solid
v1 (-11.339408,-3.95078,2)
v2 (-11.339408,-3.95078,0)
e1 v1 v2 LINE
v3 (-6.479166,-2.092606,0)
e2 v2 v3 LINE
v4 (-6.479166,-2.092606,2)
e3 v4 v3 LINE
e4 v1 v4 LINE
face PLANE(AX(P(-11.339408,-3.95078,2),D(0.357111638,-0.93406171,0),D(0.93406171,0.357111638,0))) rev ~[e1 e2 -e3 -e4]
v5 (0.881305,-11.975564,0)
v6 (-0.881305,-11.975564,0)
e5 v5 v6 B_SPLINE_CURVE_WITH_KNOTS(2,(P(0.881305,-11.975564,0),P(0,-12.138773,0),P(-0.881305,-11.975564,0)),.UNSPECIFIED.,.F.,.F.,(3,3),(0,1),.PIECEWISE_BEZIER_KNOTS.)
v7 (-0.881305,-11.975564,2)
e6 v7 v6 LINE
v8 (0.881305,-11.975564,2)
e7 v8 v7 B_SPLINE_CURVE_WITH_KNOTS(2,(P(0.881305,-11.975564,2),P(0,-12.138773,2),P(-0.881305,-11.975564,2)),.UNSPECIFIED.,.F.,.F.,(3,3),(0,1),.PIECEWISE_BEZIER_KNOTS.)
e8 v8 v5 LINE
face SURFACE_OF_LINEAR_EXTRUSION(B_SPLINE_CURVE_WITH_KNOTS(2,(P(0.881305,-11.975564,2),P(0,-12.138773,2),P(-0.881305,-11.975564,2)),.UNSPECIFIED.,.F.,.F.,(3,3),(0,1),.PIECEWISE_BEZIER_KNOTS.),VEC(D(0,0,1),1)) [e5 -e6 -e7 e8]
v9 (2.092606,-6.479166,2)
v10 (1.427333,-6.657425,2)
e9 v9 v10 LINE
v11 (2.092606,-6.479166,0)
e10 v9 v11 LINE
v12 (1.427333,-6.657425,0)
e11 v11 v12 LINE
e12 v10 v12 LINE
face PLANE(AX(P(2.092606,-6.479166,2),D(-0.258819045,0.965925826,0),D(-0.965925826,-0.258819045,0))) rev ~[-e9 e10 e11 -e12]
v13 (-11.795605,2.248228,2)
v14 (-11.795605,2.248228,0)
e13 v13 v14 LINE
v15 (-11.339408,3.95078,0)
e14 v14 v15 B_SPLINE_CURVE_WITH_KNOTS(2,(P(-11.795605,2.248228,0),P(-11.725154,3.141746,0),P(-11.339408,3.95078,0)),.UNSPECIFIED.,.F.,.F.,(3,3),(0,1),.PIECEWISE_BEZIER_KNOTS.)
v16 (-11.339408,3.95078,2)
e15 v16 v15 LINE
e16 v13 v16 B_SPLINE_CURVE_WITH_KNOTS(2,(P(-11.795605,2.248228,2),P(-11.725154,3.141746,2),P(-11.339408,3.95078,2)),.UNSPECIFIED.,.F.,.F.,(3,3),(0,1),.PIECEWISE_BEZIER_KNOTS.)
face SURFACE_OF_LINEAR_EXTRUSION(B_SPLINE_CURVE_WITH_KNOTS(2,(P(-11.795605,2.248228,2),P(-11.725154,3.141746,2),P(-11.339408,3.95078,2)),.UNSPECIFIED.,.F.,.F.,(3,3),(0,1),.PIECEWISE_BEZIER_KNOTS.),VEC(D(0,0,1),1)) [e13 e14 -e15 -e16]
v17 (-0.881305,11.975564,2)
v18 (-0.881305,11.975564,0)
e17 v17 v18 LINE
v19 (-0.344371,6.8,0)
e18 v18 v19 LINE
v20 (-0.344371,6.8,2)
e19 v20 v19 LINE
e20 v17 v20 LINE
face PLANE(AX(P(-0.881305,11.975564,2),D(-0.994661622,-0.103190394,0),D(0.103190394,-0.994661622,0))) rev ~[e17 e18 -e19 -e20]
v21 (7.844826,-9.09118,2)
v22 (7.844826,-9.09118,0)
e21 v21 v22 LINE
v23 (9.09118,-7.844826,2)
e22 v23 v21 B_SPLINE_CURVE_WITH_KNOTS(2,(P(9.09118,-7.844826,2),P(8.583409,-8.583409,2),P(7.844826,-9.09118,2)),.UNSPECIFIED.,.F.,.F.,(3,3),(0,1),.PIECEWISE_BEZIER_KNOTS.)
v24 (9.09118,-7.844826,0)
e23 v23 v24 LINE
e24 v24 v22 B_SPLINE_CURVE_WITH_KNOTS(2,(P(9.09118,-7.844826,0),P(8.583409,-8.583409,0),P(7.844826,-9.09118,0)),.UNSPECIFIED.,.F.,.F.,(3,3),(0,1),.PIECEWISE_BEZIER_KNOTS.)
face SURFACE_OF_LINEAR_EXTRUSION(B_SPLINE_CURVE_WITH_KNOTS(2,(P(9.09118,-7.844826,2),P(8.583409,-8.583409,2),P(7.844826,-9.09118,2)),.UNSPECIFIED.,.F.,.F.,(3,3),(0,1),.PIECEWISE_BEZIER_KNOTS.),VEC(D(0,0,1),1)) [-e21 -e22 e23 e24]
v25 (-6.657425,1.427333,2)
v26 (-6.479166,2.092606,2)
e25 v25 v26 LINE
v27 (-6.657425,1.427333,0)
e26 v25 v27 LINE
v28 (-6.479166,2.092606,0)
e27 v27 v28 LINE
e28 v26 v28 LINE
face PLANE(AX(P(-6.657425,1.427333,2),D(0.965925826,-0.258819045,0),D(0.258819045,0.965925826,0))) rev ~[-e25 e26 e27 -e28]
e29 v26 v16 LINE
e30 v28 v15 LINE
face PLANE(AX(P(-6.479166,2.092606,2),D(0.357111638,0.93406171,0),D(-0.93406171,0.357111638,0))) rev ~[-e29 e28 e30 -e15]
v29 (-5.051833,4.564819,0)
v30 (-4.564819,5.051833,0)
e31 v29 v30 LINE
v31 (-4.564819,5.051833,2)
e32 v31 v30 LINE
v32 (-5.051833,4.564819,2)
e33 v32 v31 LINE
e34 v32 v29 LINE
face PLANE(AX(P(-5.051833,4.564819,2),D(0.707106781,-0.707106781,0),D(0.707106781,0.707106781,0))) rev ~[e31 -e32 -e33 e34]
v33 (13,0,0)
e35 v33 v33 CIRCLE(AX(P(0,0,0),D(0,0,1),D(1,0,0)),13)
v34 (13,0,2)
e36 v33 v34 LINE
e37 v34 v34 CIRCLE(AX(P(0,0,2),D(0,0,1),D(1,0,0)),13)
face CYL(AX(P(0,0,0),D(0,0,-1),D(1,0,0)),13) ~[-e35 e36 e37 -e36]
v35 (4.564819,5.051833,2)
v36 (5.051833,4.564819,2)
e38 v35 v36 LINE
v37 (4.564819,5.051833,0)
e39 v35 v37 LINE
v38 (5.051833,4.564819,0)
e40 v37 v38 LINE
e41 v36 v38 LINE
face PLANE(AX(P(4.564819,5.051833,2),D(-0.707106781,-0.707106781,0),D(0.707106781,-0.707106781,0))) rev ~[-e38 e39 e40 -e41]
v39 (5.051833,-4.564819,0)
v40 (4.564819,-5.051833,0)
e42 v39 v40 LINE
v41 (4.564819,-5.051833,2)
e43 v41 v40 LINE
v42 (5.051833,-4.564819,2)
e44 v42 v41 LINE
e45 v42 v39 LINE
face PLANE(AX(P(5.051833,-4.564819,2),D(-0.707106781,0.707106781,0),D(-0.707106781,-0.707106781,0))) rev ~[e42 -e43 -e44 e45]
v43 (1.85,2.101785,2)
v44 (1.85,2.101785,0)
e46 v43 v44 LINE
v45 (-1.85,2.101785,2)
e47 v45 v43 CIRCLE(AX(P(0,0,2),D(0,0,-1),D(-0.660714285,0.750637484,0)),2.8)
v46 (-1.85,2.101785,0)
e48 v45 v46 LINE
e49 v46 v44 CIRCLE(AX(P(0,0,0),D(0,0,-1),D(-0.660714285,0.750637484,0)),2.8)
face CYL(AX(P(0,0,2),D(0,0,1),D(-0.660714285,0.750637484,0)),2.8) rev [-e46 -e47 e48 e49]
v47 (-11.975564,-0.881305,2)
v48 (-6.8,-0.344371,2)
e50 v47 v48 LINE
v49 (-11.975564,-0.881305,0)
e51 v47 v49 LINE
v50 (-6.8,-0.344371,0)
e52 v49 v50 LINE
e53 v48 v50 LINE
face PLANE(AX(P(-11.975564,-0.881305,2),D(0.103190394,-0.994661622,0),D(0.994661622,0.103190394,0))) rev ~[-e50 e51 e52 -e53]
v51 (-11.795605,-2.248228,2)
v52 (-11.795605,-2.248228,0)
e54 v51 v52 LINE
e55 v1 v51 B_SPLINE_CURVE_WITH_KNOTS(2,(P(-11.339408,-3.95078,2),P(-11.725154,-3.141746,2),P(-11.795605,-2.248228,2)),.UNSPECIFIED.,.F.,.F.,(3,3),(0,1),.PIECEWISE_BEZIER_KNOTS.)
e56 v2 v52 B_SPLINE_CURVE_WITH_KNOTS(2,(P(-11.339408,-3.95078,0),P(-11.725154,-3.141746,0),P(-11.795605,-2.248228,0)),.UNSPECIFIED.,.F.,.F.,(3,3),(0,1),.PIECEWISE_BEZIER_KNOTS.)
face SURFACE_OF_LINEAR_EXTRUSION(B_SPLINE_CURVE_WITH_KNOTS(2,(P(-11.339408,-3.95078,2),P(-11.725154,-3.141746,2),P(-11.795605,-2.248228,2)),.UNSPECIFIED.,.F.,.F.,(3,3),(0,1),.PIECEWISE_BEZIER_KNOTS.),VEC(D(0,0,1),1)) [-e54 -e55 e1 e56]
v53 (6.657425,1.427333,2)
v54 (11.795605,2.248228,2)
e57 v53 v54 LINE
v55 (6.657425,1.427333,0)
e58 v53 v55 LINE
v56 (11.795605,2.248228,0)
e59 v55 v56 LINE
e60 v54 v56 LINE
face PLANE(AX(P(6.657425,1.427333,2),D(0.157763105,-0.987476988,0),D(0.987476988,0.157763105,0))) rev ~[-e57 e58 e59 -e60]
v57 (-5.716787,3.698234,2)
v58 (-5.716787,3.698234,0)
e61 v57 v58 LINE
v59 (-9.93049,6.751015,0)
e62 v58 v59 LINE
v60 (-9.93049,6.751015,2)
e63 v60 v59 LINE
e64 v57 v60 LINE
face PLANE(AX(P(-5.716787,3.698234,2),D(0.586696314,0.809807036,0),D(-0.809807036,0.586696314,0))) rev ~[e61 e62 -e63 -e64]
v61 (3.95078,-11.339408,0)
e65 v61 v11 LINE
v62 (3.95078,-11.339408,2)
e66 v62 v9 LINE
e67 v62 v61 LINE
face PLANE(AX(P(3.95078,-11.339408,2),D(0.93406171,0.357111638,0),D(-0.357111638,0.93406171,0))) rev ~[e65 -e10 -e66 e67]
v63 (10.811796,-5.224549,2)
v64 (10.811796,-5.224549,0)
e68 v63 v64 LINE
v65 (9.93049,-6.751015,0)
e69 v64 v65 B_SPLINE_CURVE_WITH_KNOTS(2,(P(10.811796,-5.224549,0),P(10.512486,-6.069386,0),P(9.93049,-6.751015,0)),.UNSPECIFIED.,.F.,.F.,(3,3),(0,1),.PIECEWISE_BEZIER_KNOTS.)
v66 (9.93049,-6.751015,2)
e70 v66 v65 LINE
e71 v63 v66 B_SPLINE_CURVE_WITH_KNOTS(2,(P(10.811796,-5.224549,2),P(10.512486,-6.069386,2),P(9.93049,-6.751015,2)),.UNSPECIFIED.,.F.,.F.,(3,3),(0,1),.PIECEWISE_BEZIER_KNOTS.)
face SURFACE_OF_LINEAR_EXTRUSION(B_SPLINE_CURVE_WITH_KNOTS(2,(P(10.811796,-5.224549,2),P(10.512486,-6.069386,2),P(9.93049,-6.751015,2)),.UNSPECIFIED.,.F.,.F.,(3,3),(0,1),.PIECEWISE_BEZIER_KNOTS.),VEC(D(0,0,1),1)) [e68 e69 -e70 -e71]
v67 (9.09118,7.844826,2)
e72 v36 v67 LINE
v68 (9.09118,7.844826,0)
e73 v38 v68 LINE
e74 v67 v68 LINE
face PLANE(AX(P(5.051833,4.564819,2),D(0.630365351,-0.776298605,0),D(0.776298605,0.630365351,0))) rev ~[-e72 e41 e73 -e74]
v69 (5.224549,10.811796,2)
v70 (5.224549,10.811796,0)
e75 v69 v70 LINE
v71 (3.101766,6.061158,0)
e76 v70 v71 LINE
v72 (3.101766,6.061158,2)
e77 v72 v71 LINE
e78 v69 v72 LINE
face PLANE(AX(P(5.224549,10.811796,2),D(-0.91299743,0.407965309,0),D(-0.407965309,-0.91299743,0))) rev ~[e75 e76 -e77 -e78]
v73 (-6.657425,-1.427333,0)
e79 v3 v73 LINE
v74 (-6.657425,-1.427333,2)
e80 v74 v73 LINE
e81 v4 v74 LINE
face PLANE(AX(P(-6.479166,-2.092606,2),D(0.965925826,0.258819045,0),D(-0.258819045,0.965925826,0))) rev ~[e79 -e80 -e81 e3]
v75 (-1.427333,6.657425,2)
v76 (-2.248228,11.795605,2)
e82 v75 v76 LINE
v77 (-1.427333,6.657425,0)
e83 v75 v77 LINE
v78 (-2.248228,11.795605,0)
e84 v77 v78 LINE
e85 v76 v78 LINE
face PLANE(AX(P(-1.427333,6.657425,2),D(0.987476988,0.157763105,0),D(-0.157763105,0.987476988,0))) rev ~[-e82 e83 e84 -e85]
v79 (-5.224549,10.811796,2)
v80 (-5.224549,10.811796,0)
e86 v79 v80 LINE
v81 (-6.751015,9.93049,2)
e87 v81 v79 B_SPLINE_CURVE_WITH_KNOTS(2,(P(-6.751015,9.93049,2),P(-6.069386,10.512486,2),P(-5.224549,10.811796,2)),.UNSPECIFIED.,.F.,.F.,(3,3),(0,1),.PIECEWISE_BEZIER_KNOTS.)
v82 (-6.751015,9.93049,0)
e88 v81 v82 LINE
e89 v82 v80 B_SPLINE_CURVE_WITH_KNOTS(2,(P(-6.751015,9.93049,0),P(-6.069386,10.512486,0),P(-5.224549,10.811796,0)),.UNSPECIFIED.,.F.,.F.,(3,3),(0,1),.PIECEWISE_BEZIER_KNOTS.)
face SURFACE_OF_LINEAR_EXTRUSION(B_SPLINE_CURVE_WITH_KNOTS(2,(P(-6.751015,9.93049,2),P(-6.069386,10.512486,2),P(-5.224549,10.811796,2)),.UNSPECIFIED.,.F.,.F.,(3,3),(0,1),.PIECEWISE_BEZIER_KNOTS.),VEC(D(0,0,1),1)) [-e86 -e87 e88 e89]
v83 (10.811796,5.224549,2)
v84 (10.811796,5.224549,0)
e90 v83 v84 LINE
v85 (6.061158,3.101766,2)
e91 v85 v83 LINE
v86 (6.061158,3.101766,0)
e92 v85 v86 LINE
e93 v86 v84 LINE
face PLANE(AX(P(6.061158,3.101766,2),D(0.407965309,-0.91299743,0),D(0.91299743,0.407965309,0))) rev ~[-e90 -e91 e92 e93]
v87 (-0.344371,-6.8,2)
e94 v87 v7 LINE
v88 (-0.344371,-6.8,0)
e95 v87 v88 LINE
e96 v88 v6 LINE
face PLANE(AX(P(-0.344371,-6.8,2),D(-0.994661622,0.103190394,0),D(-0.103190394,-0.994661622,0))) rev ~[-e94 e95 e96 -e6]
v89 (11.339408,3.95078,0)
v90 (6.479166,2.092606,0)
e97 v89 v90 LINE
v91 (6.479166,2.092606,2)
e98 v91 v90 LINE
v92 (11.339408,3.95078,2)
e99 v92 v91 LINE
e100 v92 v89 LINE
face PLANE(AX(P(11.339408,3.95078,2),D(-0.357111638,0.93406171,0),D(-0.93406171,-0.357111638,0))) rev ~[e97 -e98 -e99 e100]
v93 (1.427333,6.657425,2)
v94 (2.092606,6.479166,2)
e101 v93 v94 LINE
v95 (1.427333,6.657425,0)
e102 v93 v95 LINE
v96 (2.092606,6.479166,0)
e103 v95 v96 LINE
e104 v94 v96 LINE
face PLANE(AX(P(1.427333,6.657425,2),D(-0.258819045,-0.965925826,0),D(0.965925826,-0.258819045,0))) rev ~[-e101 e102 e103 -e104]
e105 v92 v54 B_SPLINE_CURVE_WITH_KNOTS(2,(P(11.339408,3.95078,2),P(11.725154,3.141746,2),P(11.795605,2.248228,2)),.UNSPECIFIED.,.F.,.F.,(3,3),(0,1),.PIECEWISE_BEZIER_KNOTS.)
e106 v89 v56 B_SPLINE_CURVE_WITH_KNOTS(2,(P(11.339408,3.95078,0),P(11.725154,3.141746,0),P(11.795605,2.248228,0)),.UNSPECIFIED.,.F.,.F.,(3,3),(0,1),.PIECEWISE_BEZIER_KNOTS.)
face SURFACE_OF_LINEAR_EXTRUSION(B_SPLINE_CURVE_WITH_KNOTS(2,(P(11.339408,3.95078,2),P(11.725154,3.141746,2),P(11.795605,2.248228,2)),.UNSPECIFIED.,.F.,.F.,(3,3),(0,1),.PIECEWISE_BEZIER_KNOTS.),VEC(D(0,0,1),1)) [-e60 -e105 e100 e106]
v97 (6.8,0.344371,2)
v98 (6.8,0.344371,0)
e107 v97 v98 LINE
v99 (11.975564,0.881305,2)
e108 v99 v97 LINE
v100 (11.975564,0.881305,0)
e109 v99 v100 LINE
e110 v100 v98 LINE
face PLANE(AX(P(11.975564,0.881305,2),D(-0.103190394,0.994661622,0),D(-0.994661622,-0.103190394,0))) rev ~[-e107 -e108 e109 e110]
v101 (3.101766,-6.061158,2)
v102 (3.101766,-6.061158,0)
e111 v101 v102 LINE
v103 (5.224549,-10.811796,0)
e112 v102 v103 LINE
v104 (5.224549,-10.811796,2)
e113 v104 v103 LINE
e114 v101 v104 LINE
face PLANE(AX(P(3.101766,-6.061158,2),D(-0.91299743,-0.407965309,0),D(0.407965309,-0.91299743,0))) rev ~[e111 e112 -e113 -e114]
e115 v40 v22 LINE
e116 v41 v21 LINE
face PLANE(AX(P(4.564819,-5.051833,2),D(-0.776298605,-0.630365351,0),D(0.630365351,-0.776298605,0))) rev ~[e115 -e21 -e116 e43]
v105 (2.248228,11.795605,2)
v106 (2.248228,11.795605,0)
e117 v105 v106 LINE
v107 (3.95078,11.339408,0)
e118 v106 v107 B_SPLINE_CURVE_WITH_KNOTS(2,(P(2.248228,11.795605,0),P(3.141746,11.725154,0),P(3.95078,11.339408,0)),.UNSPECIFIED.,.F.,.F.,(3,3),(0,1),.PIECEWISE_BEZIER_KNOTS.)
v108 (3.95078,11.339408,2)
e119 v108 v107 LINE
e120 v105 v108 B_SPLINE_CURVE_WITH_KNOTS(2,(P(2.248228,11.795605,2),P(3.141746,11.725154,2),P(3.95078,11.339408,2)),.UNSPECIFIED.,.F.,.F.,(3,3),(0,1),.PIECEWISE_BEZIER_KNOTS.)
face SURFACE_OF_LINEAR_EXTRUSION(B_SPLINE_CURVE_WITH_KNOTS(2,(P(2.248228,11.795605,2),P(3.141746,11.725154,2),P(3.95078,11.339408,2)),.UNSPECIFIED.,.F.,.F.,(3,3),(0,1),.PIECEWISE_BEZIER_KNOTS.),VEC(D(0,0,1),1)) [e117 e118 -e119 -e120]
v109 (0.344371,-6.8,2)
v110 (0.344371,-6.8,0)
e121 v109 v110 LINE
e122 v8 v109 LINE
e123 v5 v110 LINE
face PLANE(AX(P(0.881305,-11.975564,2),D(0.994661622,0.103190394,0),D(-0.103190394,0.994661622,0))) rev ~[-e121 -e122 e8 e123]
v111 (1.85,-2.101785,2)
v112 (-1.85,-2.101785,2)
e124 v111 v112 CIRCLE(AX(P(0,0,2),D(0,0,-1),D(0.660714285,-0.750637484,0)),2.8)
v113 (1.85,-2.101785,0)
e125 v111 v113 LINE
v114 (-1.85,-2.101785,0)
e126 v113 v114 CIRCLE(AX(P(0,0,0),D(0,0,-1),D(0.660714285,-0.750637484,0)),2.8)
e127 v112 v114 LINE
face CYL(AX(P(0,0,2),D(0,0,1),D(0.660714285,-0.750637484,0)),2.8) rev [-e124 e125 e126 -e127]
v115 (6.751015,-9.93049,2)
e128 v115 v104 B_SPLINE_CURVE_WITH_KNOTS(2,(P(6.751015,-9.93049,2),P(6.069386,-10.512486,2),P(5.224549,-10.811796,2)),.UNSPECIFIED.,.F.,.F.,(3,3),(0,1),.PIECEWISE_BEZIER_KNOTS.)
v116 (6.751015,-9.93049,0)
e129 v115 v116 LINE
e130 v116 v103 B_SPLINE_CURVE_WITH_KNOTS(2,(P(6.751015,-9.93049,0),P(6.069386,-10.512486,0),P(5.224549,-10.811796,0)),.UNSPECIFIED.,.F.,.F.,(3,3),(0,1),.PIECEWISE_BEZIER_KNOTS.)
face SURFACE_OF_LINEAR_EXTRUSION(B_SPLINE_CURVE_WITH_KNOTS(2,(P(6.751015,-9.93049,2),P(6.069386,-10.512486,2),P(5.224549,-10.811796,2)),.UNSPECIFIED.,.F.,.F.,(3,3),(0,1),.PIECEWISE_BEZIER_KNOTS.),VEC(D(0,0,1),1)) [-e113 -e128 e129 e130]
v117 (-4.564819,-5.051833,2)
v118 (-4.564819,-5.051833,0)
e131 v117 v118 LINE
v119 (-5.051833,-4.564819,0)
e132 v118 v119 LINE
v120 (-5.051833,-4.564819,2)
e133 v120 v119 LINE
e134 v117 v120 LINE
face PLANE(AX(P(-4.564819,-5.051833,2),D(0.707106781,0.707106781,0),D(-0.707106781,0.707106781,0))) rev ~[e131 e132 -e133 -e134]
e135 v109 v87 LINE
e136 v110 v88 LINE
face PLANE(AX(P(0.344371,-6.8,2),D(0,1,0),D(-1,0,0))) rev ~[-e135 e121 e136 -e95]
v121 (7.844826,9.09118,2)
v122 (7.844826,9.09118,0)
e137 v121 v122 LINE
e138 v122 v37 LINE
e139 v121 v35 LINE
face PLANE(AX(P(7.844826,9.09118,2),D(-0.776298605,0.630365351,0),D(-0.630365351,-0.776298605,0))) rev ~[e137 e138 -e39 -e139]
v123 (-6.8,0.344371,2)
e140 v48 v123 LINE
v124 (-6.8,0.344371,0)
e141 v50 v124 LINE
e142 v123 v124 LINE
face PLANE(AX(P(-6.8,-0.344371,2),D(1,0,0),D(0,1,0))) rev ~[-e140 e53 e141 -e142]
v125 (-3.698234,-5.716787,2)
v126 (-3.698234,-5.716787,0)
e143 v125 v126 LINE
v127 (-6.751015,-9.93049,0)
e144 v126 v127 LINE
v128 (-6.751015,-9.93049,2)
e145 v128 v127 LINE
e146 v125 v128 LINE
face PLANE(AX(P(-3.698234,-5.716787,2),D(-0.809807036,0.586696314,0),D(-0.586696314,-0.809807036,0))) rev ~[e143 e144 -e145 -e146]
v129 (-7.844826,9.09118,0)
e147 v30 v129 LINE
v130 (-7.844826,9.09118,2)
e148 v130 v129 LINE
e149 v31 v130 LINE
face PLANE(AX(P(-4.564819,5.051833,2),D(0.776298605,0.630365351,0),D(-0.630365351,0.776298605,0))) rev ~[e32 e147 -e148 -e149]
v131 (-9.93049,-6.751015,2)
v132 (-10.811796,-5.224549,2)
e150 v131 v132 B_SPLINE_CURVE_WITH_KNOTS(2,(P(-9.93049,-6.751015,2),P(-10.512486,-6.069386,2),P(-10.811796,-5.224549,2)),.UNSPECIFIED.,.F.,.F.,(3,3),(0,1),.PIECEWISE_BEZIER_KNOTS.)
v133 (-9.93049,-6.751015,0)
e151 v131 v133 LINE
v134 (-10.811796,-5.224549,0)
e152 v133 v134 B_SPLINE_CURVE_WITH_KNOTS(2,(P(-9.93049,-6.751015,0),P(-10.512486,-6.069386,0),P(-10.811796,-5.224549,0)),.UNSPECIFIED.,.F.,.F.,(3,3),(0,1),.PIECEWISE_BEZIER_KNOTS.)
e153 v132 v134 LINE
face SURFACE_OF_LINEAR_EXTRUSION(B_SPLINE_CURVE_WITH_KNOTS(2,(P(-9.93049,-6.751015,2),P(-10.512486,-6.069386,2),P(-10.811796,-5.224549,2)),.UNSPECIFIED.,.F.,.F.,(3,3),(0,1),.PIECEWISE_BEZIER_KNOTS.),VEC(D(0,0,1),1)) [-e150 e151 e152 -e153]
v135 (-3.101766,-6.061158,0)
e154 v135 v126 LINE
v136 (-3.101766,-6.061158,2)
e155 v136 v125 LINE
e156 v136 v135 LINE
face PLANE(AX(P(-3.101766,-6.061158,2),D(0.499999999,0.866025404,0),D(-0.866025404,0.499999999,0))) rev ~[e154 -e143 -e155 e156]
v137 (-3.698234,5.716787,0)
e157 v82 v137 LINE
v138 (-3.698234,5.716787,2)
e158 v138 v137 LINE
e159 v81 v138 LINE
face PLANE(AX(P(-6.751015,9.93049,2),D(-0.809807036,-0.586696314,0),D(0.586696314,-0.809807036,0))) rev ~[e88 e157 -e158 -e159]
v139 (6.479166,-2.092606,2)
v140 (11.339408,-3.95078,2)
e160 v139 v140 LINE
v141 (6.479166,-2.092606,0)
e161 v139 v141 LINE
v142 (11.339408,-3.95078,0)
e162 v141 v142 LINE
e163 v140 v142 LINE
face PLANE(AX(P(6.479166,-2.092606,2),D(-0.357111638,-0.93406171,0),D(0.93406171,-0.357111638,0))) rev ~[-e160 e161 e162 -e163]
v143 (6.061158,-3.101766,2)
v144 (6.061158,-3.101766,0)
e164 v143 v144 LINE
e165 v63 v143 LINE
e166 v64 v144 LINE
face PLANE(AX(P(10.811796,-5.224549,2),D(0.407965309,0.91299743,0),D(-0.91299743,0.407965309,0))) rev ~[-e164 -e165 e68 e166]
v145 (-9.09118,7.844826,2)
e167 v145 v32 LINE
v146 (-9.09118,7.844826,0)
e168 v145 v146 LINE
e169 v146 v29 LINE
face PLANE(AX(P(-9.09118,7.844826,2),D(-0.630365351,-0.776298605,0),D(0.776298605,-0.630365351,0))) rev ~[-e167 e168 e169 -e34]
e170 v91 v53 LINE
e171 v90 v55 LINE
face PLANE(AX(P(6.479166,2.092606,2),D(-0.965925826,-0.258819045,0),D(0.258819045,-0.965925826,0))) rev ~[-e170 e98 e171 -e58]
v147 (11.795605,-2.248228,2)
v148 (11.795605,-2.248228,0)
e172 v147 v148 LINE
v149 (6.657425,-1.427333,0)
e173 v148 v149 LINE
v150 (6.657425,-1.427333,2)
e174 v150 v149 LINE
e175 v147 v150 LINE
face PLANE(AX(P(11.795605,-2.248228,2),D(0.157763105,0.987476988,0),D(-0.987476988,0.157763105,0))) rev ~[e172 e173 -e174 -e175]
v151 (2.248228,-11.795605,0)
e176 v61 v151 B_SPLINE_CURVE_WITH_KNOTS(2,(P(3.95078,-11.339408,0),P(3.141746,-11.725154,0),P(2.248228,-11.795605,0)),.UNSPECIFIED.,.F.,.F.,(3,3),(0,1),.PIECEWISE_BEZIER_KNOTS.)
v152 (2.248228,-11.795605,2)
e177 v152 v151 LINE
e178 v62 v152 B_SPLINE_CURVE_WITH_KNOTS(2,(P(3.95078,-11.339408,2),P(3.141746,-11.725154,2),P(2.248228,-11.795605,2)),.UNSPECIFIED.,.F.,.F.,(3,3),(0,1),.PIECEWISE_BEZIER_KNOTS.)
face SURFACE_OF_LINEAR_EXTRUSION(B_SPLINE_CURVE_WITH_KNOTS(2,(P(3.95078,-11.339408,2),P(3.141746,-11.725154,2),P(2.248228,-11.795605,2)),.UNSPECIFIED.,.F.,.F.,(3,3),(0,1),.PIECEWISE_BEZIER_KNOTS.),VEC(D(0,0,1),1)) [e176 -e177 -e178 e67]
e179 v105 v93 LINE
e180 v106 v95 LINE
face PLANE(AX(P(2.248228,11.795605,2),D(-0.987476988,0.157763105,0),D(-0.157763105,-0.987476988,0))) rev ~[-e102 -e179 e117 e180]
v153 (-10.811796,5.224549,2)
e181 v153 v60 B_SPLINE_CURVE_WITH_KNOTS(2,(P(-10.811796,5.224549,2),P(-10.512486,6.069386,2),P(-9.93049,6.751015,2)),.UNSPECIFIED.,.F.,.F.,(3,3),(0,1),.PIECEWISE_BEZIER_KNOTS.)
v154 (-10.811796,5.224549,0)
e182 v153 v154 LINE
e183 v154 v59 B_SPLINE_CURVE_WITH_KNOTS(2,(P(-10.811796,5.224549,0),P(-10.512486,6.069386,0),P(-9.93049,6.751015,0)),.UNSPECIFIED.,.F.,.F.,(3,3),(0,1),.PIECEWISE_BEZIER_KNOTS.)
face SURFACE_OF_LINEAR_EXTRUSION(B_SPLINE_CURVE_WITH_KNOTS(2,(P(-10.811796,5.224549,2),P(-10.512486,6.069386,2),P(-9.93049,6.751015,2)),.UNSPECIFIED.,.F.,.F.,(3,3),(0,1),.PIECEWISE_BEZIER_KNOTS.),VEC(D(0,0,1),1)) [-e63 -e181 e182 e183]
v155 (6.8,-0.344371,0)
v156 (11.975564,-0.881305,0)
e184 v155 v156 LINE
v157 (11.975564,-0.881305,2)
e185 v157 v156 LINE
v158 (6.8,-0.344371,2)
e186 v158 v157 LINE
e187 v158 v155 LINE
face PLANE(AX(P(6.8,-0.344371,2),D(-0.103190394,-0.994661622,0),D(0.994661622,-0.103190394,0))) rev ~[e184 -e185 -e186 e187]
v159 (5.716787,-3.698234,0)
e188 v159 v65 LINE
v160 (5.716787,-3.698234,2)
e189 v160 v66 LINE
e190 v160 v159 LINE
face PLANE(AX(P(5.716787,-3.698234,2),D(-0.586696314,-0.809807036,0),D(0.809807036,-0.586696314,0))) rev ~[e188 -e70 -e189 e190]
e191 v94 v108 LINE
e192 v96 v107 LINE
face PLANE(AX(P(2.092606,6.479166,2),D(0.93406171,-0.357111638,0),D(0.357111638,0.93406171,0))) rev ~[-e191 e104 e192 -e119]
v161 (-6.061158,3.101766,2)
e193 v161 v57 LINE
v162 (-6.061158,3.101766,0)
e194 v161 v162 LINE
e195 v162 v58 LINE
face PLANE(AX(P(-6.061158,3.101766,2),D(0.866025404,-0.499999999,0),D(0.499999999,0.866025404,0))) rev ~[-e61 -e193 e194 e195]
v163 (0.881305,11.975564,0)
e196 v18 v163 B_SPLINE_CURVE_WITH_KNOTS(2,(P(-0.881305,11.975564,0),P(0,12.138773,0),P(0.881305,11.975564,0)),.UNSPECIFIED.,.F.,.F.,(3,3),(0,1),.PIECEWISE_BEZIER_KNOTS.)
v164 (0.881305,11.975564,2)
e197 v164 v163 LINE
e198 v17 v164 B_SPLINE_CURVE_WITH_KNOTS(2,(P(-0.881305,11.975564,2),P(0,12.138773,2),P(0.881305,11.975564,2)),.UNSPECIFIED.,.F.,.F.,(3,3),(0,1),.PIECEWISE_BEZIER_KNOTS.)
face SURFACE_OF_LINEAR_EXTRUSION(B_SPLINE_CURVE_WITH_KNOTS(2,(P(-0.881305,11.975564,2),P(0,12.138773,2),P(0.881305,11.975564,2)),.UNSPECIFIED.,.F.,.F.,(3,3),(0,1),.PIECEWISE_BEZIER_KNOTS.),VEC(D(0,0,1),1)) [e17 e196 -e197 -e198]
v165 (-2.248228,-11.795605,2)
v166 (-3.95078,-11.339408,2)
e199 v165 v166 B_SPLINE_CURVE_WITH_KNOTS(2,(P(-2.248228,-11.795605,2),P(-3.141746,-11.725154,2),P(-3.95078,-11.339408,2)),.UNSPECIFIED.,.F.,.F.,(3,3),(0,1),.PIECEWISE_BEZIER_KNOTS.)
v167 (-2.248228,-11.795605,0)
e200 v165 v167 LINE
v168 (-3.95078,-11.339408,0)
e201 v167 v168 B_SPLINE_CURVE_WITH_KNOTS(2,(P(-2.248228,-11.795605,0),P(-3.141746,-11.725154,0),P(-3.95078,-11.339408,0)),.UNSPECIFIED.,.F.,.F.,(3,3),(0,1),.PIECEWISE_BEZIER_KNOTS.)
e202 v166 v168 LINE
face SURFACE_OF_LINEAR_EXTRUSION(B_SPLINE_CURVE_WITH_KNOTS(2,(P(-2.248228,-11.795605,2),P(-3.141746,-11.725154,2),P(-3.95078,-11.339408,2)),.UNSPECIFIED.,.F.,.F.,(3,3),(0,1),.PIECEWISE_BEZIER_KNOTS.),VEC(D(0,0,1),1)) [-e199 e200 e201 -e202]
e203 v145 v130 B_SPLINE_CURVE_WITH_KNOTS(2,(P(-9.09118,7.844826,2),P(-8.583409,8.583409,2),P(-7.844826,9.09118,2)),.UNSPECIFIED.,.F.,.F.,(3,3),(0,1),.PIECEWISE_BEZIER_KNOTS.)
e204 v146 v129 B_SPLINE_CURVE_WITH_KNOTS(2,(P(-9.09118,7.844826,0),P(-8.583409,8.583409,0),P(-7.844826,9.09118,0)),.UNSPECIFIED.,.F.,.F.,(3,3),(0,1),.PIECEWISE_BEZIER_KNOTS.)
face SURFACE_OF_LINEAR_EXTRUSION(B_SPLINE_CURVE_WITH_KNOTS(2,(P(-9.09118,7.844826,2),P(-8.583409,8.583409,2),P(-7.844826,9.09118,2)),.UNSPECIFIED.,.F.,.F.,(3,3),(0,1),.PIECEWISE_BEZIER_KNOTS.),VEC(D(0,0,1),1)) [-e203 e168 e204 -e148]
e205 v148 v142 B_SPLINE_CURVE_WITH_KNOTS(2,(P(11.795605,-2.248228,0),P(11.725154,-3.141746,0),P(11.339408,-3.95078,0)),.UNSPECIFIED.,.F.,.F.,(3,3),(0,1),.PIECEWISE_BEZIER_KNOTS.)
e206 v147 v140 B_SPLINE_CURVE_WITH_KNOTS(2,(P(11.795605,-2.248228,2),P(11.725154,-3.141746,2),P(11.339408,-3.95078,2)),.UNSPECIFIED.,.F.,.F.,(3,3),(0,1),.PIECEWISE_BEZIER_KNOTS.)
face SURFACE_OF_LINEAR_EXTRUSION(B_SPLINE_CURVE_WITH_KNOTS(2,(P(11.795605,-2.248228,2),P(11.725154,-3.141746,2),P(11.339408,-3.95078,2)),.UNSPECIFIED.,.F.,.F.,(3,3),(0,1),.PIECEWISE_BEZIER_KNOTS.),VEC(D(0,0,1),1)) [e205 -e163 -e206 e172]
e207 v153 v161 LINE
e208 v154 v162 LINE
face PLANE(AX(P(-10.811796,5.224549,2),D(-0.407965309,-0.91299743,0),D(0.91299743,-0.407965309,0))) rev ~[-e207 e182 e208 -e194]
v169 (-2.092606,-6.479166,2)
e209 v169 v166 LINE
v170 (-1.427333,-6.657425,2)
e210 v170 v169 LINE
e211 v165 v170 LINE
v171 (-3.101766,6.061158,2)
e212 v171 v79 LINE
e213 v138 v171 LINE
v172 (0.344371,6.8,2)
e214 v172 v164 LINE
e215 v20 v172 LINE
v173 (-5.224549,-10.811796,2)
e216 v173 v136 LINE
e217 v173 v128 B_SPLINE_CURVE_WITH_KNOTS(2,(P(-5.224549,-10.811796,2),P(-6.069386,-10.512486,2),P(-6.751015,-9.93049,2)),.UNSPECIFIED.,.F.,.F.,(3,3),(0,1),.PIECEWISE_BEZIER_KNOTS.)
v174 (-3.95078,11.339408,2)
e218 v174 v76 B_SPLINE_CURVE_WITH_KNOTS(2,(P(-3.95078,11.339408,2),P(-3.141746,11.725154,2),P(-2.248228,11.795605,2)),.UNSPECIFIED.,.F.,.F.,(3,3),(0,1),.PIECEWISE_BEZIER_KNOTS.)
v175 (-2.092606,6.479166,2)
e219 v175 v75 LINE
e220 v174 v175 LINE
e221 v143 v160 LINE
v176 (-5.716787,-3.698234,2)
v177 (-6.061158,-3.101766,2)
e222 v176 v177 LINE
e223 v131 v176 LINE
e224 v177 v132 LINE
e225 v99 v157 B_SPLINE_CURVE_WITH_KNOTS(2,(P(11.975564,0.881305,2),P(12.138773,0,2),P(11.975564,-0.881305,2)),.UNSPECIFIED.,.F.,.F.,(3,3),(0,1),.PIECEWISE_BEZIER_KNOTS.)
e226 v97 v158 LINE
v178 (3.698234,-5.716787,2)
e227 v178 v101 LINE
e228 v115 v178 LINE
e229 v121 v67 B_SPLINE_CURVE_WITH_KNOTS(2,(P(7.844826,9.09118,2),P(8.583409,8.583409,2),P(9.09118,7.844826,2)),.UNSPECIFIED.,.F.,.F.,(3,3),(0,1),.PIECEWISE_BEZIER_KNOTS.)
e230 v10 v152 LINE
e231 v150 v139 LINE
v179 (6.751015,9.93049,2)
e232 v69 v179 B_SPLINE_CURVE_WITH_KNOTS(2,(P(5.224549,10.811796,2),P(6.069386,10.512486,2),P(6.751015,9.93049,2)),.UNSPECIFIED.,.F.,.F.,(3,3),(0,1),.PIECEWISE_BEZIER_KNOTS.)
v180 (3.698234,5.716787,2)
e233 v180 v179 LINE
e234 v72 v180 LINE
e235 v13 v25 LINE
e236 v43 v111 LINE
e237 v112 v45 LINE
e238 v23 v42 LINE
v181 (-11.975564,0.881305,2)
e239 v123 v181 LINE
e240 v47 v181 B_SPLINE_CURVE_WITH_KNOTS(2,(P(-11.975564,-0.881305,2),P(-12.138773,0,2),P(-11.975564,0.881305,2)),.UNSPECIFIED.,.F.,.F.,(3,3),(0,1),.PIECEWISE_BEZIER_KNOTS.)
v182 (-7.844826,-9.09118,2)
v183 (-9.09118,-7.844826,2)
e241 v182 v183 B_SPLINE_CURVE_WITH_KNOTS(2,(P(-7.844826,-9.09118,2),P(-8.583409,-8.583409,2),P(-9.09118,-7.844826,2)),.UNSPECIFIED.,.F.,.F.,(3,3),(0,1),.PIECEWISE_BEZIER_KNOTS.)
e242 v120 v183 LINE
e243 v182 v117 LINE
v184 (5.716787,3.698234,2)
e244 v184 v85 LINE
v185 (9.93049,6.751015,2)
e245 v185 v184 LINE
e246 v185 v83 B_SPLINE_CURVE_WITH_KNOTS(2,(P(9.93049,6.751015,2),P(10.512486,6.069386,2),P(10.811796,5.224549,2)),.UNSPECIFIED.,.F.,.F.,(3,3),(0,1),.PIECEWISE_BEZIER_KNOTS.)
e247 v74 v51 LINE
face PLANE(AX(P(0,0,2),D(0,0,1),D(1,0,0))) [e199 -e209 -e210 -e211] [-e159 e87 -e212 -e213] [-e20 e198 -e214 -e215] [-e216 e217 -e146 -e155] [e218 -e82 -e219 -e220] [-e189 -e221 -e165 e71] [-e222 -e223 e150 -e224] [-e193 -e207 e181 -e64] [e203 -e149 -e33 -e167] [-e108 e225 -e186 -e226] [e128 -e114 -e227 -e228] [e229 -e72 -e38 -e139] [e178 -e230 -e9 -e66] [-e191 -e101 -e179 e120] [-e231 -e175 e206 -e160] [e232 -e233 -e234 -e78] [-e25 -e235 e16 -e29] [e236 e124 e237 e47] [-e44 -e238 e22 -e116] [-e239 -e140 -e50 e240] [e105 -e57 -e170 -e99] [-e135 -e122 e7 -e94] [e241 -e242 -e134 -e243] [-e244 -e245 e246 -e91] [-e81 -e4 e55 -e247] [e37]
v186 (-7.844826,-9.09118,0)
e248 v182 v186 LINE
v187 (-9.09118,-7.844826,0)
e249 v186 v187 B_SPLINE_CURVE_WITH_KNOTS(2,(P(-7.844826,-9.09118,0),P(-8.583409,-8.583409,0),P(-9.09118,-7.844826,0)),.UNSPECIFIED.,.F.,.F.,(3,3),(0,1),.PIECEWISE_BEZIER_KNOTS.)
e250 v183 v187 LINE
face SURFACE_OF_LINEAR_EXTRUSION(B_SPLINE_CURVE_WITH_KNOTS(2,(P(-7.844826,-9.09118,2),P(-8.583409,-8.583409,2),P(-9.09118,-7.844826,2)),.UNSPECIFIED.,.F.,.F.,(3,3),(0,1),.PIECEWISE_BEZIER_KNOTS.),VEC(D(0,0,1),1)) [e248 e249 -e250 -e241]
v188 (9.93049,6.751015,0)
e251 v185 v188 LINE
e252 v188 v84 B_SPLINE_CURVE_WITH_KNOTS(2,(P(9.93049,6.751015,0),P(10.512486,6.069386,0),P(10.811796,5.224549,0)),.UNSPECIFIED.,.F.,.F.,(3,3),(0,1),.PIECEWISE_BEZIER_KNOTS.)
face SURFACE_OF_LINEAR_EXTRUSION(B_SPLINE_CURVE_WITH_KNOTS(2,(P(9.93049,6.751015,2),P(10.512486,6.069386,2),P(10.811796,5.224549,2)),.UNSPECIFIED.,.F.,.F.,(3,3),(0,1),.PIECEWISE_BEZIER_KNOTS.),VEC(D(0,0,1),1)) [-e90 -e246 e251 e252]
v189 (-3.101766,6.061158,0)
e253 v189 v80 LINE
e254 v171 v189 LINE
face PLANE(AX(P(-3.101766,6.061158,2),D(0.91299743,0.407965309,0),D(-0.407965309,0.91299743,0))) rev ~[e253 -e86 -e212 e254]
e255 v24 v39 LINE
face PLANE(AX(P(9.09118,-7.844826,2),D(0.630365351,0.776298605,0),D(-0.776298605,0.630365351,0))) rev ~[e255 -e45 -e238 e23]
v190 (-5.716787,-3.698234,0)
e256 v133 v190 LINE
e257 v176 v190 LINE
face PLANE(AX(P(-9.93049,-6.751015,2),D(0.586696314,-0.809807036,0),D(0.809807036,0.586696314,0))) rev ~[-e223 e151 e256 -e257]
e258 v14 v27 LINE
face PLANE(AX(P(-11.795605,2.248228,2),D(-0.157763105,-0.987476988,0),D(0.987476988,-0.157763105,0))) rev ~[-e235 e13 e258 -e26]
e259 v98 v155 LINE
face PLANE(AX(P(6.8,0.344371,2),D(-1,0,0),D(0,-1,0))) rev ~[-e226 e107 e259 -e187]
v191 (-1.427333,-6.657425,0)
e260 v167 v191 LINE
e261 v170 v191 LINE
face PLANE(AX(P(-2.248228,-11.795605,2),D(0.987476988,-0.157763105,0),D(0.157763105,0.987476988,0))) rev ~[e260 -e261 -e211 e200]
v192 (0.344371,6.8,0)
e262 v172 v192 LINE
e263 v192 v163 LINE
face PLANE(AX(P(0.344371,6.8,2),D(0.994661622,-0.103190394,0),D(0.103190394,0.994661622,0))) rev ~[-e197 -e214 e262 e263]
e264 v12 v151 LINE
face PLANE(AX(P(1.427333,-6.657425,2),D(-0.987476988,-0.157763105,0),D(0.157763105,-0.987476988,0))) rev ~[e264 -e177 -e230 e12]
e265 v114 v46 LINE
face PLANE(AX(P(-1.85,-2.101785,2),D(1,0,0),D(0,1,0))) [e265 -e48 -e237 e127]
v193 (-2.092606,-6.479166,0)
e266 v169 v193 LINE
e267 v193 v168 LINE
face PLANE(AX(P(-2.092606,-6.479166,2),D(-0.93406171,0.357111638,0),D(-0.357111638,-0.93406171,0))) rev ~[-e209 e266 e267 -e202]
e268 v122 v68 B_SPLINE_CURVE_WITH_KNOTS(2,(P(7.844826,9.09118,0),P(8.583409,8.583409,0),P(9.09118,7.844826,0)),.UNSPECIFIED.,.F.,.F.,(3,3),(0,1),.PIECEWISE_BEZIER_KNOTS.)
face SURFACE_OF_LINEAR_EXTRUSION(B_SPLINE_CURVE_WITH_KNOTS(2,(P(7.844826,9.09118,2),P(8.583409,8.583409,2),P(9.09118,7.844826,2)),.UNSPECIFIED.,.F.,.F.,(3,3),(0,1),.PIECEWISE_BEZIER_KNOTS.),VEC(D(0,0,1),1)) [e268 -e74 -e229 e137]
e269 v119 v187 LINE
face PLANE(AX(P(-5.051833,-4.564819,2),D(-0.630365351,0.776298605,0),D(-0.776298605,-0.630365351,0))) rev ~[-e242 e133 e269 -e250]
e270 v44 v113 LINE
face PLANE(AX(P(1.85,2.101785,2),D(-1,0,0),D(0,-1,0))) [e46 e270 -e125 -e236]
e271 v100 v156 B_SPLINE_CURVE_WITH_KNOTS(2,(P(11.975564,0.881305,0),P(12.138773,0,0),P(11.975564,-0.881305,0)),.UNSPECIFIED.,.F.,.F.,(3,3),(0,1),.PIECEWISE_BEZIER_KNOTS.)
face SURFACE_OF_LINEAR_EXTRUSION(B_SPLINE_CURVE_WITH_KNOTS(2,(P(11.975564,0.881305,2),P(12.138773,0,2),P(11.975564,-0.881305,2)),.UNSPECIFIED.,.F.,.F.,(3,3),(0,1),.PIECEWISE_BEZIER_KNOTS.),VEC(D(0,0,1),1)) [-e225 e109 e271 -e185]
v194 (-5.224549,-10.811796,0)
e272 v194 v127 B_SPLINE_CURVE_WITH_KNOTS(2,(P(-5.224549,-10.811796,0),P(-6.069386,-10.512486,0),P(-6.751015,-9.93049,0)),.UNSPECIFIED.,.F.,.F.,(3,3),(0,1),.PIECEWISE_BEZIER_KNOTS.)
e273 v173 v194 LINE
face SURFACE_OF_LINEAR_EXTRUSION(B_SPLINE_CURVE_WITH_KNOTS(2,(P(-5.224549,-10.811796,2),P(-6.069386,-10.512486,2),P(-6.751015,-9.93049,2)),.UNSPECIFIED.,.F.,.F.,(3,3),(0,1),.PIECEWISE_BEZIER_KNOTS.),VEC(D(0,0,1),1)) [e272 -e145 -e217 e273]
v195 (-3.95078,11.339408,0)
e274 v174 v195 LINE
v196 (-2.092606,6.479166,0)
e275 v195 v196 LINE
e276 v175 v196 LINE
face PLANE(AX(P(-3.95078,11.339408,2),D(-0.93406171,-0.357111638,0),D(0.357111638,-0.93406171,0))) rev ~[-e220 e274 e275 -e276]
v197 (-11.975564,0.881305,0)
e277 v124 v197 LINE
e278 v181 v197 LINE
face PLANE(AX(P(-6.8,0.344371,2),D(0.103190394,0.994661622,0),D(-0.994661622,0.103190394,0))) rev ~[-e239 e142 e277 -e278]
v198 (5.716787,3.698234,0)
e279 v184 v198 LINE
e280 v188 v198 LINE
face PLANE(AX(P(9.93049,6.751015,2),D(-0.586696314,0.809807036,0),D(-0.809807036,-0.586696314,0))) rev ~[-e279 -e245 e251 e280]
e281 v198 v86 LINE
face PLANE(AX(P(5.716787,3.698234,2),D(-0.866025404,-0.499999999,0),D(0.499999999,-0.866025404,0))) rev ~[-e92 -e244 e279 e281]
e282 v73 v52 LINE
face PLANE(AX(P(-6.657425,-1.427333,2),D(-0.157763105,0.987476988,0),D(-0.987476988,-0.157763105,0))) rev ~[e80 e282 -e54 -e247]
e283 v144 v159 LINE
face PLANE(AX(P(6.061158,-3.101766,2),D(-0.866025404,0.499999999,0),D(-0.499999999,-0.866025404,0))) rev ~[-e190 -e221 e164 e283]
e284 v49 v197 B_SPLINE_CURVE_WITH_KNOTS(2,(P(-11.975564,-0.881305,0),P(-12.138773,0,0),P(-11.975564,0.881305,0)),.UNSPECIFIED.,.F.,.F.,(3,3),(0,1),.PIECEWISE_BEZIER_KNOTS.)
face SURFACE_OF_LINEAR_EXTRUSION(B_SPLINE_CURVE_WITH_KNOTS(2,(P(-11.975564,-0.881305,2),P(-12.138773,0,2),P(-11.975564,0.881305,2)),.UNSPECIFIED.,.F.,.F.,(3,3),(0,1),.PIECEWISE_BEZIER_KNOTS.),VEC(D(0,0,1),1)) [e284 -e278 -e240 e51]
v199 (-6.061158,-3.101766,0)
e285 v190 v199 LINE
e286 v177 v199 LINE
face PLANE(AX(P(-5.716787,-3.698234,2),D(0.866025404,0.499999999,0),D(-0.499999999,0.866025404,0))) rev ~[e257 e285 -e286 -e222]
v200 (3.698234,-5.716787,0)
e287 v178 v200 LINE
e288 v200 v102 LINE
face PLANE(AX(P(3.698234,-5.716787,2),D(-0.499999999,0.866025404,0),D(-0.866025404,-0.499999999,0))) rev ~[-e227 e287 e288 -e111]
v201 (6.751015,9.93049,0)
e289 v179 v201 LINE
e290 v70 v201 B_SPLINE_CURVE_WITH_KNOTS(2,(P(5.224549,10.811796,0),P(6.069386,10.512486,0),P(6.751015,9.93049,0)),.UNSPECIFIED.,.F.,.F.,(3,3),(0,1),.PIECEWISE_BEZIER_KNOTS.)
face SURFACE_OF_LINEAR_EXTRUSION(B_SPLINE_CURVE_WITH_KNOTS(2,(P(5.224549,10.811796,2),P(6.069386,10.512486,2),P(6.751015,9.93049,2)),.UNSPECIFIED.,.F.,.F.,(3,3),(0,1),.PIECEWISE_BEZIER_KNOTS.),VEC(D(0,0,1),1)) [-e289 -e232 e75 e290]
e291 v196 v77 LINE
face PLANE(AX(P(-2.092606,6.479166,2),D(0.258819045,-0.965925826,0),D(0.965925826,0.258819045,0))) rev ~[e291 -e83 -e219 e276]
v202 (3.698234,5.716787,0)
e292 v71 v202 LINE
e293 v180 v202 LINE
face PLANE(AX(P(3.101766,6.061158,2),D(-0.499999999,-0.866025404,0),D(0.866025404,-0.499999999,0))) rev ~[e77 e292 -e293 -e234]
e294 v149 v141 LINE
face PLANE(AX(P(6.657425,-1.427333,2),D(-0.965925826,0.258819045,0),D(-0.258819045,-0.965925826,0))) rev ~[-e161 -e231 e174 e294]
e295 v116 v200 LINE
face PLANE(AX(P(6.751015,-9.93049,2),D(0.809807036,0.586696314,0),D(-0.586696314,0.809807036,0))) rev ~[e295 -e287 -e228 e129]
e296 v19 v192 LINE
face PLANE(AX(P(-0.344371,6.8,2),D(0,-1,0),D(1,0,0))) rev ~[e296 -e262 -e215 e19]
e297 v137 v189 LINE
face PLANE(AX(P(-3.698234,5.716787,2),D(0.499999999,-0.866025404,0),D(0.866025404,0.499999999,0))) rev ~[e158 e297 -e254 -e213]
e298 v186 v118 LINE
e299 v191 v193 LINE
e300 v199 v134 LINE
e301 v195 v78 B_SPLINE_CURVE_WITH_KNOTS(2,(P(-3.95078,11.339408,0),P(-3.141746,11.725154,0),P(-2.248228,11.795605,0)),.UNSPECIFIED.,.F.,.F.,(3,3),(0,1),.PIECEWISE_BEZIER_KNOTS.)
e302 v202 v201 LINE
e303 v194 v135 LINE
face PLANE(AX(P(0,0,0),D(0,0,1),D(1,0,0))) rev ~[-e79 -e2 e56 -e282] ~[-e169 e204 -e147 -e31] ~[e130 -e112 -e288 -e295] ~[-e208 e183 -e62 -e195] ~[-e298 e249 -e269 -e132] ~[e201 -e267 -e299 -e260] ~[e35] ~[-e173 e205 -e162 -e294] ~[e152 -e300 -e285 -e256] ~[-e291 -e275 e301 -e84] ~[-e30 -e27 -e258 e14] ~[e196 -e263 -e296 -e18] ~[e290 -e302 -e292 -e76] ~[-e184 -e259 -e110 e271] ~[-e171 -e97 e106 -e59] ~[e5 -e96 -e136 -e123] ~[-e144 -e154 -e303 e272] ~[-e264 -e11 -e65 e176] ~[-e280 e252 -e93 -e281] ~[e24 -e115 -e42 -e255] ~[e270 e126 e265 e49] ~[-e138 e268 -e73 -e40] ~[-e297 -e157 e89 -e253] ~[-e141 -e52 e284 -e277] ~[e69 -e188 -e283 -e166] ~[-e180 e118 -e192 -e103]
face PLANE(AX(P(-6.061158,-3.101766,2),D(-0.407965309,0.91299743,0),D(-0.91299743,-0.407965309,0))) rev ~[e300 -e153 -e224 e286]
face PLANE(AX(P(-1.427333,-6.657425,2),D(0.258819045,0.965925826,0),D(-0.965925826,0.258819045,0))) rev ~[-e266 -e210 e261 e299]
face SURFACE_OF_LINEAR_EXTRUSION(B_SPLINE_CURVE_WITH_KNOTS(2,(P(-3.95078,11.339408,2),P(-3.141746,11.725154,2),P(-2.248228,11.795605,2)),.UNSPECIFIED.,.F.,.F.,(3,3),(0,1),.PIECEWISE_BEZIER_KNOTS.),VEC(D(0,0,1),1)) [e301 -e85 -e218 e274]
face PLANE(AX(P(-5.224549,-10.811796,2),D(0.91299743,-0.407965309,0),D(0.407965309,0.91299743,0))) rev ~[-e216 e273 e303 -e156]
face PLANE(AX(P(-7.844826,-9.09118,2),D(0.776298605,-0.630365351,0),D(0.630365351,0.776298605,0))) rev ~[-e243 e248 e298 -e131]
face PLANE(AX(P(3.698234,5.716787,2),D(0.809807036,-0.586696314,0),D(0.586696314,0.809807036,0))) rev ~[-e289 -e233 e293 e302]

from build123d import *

# Parameters (mm, degrees)
SKETCH1_R           = 13
BOSS_EXTRUDE1_DEPTH = 2
CUT_EXTRUDE1_DEPTH  = 2
CUT_EXTRUDE2_DEPTH  = 2


with BuildPart() as part:
    # Sketch1 → Boss-Extrude1 (new body)
    with BuildSketch(Plane.XY):
        Circle(SKETCH1_R)
    extrude(amount=BOSS_EXTRUDE1_DEPTH)

    # Sketch2 → Cut-Extrude1 (cut)
    with BuildSketch(Plane.XY.offset(2)):
        with BuildLine():
            Line((1.85, 2.101784956), (1.85, -2.101784956))
            ThreePointArc((1.85, -2.101784956), (0, -2.8), (-1.85, -2.101784956))
            Line((-1.85, -2.101784956), (-1.85, 2.101784956))
            ThreePointArc((-1.85, 2.101784956), (0, 2.8), (1.85, 2.101784956))
        make_face()
    extrude(amount=-CUT_EXTRUDE1_DEPTH, mode=Mode.SUBTRACT)

    # Sketch3 → Cut-Extrude2 (cut)
    with BuildSketch(Plane.XY.offset(2)):
        with BuildLine():
            Line((-0.344370627, 6.8), (0.344370627, 6.8))
            Line((0.344370627, 6.8), (0.881305494, 11.975564171))
            add(Edge.make_bspline(
                [(-0.881305494, 11.975564171), (0, 12.13877285), (0.881305494, 11.975564171)],
                knots=[0, 0, 0, 1, 1, 1], degree=2))
            Line((-0.881305494, 11.975564171), (-0.344370627, 6.8))
        make_face()
        with BuildLine():
            Line((2.09260599, 6.479165942), (3.950779821, 11.339408071))
            add(Edge.make_bspline(
                [(2.248228346, 11.795605364), (3.141745598, 11.725154195), (3.950779821, 11.339408071)],
                knots=[0, 0, 0, 1, 1, 1], degree=2))
            Line((2.248228346, 11.795605364), (1.427333024, 6.657425296))
            Line((1.427333024, 6.657425296), (2.09260599, 6.479165942))
        make_face()
        with BuildLine():
            Line((3.698233712, 5.716787432), (6.751015032, 9.93049005))
            add(Edge.make_bspline(
                [(5.224549139, 10.811795544), (6.069386425, 10.512485659), (6.751015032, 9.93049005)],
                knots=[0, 0, 0, 1, 1, 1], degree=2))
            Line((5.224549139, 10.811795544), (3.101766288, 6.061158059))
            Line((3.101766288, 6.061158059), (3.698233712, 5.716787432))
        make_face()
        with BuildLine():
            Line((5.051832918, 4.564819306), (9.091179725, 7.844825543))
            add(Edge.make_bspline(
                [(7.844825543, 9.091179725), (8.583408597, 8.583408597), (9.091179725, 7.844825543)],
                knots=[0, 0, 0, 1, 1, 1], degree=2))
            Line((7.844825543, 9.091179725), (4.564819306, 5.051832918))
            Line((4.564819306, 5.051832918), (5.051832918, 4.564819306))
        make_face()
        with BuildLine():
            Line((6.061158059, 3.101766288), (10.811795544, 5.224549139))
            add(Edge.make_bspline(
                [(9.93049005, 6.751015032), (10.512485659, 6.069386425), (10.811795544, 5.224549139)],
                knots=[0, 0, 0, 1, 1, 1], degree=2))
            Line((9.93049005, 6.751015032), (5.716787432, 3.698233712))
            Line((5.716787432, 3.698233712), (6.061158059, 3.101766288))
        make_face()
        with BuildLine():
            Line((6.657425296, 1.427333024), (11.795605364, 2.248228346))
            add(Edge.make_bspline(
                [(11.339408071, 3.950779821), (11.725154195, 3.141745598), (11.795605364, 2.248228346)],
                knots=[0, 0, 0, 1, 1, 1], degree=2))
            Line((11.339408071, 3.950779821), (6.479165942, 2.09260599))
            Line((6.479165942, 2.09260599), (6.657425296, 1.427333024))
        make_face()
        with BuildLine():
            Line((6.8, -0.344370627), (11.975564171, -0.881305494))
            add(Edge.make_bspline(
                [(11.975564171, 0.881305494), (12.13877285, 0), (11.975564171, -0.881305494)],
                knots=[0, 0, 0, 1, 1, 1], degree=2))
            Line((11.975564171, 0.881305494), (6.8, 0.344370627))
            Line((6.8, 0.344370627), (6.8, -0.344370627))
        make_face()
        with BuildLine():
            Line((6.479165942, -2.09260599), (11.339408071, -3.950779821))
            add(Edge.make_bspline(
                [(11.795605364, -2.248228346), (11.725154195, -3.141745598), (11.339408071, -3.950779821)],
                knots=[0, 0, 0, 1, 1, 1], degree=2))
            Line((11.795605364, -2.248228346), (6.657425296, -1.427333024))
            Line((6.657425296, -1.427333024), (6.479165942, -2.09260599))
        make_face()
        with BuildLine():
            Line((5.716787432, -3.698233712), (9.93049005, -6.751015032))
            add(Edge.make_bspline(
                [(10.811795544, -5.224549139), (10.512485659, -6.069386425), (9.93049005, -6.751015032)],
                knots=[0, 0, 0, 1, 1, 1], degree=2))
            Line((10.811795544, -5.224549139), (6.061158059, -3.101766288))
            Line((6.061158059, -3.101766288), (5.716787432, -3.698233712))
        make_face()
        with BuildLine():
            Line((4.564819306, -5.051832918), (7.844825543, -9.091179725))
            add(Edge.make_bspline(
                [(9.091179725, -7.844825543), (8.583408597, -8.583408597), (7.844825543, -9.091179725)],
                knots=[0, 0, 0, 1, 1, 1], degree=2))
            Line((9.091179725, -7.844825543), (5.051832918, -4.564819306))
            Line((5.051832918, -4.564819306), (4.564819306, -5.051832918))
        make_face()
        with BuildLine():
            Line((3.101766288, -6.061158059), (5.224549139, -10.811795544))
            add(Edge.make_bspline(
                [(6.751015032, -9.93049005), (6.069386425, -10.512485659), (5.224549139, -10.811795544)],
                knots=[0, 0, 0, 1, 1, 1], degree=2))
            Line((6.751015032, -9.93049005), (3.698233712, -5.716787432))
            Line((3.698233712, -5.716787432), (3.101766288, -6.061158059))
        make_face()
        with BuildLine():
            Line((1.427333024, -6.657425296), (2.248228346, -11.795605364))
            add(Edge.make_bspline(
                [(3.950779821, -11.339408071), (3.141745598, -11.725154195), (2.248228346, -11.795605364)],
                knots=[0, 0, 0, 1, 1, 1], degree=2))
            Line((3.950779821, -11.339408071), (2.09260599, -6.479165942))
            Line((2.09260599, -6.479165942), (1.427333024, -6.657425296))
        make_face()
        with BuildLine():
            Line((-0.344370627, -6.8), (-0.881305494, -11.975564171))
            add(Edge.make_bspline(
                [(0.881305494, -11.975564171), (0, -12.13877285), (-0.881305494, -11.975564171)],
                knots=[0, 0, 0, 1, 1, 1], degree=2))
            Line((0.881305494, -11.975564171), (0.344370627, -6.8))
            Line((0.344370627, -6.8), (-0.344370627, -6.8))
        make_face()
        with BuildLine():
            Line((-2.09260599, -6.479165942), (-3.950779821, -11.339408071))
            add(Edge.make_bspline(
                [(-2.248228346, -11.795605364), (-3.141745598, -11.725154195), (-3.950779821, -11.339408071)],
                knots=[0, 0, 0, 1, 1, 1], degree=2))
            Line((-2.248228346, -11.795605364), (-1.427333024, -6.657425296))
            Line((-1.427333024, -6.657425296), (-2.09260599, -6.479165942))
        make_face()
        with BuildLine():
            Line((-3.698233712, -5.716787432), (-6.751015032, -9.93049005))
            add(Edge.make_bspline(
                [(-5.224549139, -10.811795544), (-6.069386425, -10.512485659), (-6.751015032, -9.93049005)],
                knots=[0, 0, 0, 1, 1, 1], degree=2))
            Line((-5.224549139, -10.811795544), (-3.101766288, -6.061158059))
            Line((-3.101766288, -6.061158059), (-3.698233712, -5.716787432))
        make_face()
        with BuildLine():
            Line((-5.051832918, -4.564819306), (-9.091179725, -7.844825543))
            add(Edge.make_bspline(
                [(-7.844825543, -9.091179725), (-8.583408597, -8.583408597), (-9.091179725, -7.844825543)],
                knots=[0, 0, 0, 1, 1, 1], degree=2))
            Line((-7.844825543, -9.091179725), (-4.564819306, -5.051832918))
            Line((-4.564819306, -5.051832918), (-5.051832918, -4.564819306))
        make_face()
        with BuildLine():
            Line((-6.061158059, -3.101766288), (-10.811795544, -5.224549139))
            add(Edge.make_bspline(
                [(-9.93049005, -6.751015032), (-10.512485659, -6.069386425), (-10.811795544, -5.224549139)],
                knots=[0, 0, 0, 1, 1, 1], degree=2))
            Line((-9.93049005, -6.751015032), (-5.716787432, -3.698233712))
            Line((-5.716787432, -3.698233712), (-6.061158059, -3.101766288))
        make_face()
        with BuildLine():
            Line((-6.657425296, -1.427333024), (-11.795605364, -2.248228346))
            add(Edge.make_bspline(
                [(-11.339408071, -3.950779821), (-11.725154195, -3.141745598), (-11.795605364, -2.248228346)],
                knots=[0, 0, 0, 1, 1, 1], degree=2))
            Line((-11.339408071, -3.950779821), (-6.479165942, -2.09260599))
            Line((-6.479165942, -2.09260599), (-6.657425296, -1.427333024))
        make_face()
        with BuildLine():
            Line((-6.8, 0.344370627), (-11.975564171, 0.881305494))
            add(Edge.make_bspline(
                [(-11.975564171, -0.881305494), (-12.13877285, 0), (-11.975564171, 0.881305494)],
                knots=[0, 0, 0, 1, 1, 1], degree=2))
            Line((-11.975564171, -0.881305494), (-6.8, -0.344370627))
            Line((-6.8, -0.344370627), (-6.8, 0.344370627))
        make_face()
        with BuildLine():
            Line((-6.479165942, 2.09260599), (-11.339408071, 3.950779821))
            add(Edge.make_bspline(
                [(-11.795605364, 2.248228346), (-11.725154195, 3.141745598), (-11.339408071, 3.950779821)],
                knots=[0, 0, 0, 1, 1, 1], degree=2))
            Line((-11.795605364, 2.248228346), (-6.657425296, 1.427333024))
            Line((-6.657425296, 1.427333024), (-6.479165942, 2.09260599))
        make_face()
        with BuildLine():
            Line((-5.716787432, 3.698233712), (-9.93049005, 6.751015032))
            add(Edge.make_bspline(
                [(-10.811795544, 5.224549139), (-10.512485659, 6.069386425), (-9.93049005, 6.751015032)],
                knots=[0, 0, 0, 1, 1, 1], degree=2))
            Line((-10.811795544, 5.224549139), (-6.061158059, 3.101766288))
            Line((-6.061158059, 3.101766288), (-5.716787432, 3.698233712))
        make_face()
        with BuildLine():
            Line((-4.564819306, 5.051832918), (-7.844825543, 9.091179725))
            add(Edge.make_bspline(
                [(-9.091179725, 7.844825543), (-8.583408597, 8.583408597), (-7.844825543, 9.091179725)],
                knots=[0, 0, 0, 1, 1, 1], degree=2))
            Line((-9.091179725, 7.844825543), (-5.051832918, 4.564819306))
            Line((-5.051832918, 4.564819306), (-4.564819306, 5.051832918))
        make_face()
        with BuildLine():
            Line((-3.101766288, 6.061158059), (-5.224549139, 10.811795544))
            add(Edge.make_bspline(
                [(-6.751015032, 9.93049005), (-6.069386425, 10.512485659), (-5.224549139, 10.811795544)],
                knots=[0, 0, 0, 1, 1, 1], degree=2))
            Line((-6.751015032, 9.93049005), (-3.698233712, 5.716787432))
            Line((-3.698233712, 5.716787432), (-3.101766288, 6.061158059))
        make_face()
        with BuildLine():
            Line((-1.427333024, 6.657425296), (-2.248228346, 11.795605364))
            add(Edge.make_bspline(
                [(-3.950779821, 11.339408071), (-3.141745598, 11.725154195), (-2.248228346, 11.795605364)],
                knots=[0, 0, 0, 1, 1, 1], degree=2))
            Line((-3.950779821, 11.339408071), (-2.09260599, 6.479165942))
            Line((-2.09260599, 6.479165942), (-1.427333024, 6.657425296))
        make_face()
    extrude(amount=-CUT_EXTRUDE2_DEPTH, mode=Mode.SUBTRACT)


solid = part.part
